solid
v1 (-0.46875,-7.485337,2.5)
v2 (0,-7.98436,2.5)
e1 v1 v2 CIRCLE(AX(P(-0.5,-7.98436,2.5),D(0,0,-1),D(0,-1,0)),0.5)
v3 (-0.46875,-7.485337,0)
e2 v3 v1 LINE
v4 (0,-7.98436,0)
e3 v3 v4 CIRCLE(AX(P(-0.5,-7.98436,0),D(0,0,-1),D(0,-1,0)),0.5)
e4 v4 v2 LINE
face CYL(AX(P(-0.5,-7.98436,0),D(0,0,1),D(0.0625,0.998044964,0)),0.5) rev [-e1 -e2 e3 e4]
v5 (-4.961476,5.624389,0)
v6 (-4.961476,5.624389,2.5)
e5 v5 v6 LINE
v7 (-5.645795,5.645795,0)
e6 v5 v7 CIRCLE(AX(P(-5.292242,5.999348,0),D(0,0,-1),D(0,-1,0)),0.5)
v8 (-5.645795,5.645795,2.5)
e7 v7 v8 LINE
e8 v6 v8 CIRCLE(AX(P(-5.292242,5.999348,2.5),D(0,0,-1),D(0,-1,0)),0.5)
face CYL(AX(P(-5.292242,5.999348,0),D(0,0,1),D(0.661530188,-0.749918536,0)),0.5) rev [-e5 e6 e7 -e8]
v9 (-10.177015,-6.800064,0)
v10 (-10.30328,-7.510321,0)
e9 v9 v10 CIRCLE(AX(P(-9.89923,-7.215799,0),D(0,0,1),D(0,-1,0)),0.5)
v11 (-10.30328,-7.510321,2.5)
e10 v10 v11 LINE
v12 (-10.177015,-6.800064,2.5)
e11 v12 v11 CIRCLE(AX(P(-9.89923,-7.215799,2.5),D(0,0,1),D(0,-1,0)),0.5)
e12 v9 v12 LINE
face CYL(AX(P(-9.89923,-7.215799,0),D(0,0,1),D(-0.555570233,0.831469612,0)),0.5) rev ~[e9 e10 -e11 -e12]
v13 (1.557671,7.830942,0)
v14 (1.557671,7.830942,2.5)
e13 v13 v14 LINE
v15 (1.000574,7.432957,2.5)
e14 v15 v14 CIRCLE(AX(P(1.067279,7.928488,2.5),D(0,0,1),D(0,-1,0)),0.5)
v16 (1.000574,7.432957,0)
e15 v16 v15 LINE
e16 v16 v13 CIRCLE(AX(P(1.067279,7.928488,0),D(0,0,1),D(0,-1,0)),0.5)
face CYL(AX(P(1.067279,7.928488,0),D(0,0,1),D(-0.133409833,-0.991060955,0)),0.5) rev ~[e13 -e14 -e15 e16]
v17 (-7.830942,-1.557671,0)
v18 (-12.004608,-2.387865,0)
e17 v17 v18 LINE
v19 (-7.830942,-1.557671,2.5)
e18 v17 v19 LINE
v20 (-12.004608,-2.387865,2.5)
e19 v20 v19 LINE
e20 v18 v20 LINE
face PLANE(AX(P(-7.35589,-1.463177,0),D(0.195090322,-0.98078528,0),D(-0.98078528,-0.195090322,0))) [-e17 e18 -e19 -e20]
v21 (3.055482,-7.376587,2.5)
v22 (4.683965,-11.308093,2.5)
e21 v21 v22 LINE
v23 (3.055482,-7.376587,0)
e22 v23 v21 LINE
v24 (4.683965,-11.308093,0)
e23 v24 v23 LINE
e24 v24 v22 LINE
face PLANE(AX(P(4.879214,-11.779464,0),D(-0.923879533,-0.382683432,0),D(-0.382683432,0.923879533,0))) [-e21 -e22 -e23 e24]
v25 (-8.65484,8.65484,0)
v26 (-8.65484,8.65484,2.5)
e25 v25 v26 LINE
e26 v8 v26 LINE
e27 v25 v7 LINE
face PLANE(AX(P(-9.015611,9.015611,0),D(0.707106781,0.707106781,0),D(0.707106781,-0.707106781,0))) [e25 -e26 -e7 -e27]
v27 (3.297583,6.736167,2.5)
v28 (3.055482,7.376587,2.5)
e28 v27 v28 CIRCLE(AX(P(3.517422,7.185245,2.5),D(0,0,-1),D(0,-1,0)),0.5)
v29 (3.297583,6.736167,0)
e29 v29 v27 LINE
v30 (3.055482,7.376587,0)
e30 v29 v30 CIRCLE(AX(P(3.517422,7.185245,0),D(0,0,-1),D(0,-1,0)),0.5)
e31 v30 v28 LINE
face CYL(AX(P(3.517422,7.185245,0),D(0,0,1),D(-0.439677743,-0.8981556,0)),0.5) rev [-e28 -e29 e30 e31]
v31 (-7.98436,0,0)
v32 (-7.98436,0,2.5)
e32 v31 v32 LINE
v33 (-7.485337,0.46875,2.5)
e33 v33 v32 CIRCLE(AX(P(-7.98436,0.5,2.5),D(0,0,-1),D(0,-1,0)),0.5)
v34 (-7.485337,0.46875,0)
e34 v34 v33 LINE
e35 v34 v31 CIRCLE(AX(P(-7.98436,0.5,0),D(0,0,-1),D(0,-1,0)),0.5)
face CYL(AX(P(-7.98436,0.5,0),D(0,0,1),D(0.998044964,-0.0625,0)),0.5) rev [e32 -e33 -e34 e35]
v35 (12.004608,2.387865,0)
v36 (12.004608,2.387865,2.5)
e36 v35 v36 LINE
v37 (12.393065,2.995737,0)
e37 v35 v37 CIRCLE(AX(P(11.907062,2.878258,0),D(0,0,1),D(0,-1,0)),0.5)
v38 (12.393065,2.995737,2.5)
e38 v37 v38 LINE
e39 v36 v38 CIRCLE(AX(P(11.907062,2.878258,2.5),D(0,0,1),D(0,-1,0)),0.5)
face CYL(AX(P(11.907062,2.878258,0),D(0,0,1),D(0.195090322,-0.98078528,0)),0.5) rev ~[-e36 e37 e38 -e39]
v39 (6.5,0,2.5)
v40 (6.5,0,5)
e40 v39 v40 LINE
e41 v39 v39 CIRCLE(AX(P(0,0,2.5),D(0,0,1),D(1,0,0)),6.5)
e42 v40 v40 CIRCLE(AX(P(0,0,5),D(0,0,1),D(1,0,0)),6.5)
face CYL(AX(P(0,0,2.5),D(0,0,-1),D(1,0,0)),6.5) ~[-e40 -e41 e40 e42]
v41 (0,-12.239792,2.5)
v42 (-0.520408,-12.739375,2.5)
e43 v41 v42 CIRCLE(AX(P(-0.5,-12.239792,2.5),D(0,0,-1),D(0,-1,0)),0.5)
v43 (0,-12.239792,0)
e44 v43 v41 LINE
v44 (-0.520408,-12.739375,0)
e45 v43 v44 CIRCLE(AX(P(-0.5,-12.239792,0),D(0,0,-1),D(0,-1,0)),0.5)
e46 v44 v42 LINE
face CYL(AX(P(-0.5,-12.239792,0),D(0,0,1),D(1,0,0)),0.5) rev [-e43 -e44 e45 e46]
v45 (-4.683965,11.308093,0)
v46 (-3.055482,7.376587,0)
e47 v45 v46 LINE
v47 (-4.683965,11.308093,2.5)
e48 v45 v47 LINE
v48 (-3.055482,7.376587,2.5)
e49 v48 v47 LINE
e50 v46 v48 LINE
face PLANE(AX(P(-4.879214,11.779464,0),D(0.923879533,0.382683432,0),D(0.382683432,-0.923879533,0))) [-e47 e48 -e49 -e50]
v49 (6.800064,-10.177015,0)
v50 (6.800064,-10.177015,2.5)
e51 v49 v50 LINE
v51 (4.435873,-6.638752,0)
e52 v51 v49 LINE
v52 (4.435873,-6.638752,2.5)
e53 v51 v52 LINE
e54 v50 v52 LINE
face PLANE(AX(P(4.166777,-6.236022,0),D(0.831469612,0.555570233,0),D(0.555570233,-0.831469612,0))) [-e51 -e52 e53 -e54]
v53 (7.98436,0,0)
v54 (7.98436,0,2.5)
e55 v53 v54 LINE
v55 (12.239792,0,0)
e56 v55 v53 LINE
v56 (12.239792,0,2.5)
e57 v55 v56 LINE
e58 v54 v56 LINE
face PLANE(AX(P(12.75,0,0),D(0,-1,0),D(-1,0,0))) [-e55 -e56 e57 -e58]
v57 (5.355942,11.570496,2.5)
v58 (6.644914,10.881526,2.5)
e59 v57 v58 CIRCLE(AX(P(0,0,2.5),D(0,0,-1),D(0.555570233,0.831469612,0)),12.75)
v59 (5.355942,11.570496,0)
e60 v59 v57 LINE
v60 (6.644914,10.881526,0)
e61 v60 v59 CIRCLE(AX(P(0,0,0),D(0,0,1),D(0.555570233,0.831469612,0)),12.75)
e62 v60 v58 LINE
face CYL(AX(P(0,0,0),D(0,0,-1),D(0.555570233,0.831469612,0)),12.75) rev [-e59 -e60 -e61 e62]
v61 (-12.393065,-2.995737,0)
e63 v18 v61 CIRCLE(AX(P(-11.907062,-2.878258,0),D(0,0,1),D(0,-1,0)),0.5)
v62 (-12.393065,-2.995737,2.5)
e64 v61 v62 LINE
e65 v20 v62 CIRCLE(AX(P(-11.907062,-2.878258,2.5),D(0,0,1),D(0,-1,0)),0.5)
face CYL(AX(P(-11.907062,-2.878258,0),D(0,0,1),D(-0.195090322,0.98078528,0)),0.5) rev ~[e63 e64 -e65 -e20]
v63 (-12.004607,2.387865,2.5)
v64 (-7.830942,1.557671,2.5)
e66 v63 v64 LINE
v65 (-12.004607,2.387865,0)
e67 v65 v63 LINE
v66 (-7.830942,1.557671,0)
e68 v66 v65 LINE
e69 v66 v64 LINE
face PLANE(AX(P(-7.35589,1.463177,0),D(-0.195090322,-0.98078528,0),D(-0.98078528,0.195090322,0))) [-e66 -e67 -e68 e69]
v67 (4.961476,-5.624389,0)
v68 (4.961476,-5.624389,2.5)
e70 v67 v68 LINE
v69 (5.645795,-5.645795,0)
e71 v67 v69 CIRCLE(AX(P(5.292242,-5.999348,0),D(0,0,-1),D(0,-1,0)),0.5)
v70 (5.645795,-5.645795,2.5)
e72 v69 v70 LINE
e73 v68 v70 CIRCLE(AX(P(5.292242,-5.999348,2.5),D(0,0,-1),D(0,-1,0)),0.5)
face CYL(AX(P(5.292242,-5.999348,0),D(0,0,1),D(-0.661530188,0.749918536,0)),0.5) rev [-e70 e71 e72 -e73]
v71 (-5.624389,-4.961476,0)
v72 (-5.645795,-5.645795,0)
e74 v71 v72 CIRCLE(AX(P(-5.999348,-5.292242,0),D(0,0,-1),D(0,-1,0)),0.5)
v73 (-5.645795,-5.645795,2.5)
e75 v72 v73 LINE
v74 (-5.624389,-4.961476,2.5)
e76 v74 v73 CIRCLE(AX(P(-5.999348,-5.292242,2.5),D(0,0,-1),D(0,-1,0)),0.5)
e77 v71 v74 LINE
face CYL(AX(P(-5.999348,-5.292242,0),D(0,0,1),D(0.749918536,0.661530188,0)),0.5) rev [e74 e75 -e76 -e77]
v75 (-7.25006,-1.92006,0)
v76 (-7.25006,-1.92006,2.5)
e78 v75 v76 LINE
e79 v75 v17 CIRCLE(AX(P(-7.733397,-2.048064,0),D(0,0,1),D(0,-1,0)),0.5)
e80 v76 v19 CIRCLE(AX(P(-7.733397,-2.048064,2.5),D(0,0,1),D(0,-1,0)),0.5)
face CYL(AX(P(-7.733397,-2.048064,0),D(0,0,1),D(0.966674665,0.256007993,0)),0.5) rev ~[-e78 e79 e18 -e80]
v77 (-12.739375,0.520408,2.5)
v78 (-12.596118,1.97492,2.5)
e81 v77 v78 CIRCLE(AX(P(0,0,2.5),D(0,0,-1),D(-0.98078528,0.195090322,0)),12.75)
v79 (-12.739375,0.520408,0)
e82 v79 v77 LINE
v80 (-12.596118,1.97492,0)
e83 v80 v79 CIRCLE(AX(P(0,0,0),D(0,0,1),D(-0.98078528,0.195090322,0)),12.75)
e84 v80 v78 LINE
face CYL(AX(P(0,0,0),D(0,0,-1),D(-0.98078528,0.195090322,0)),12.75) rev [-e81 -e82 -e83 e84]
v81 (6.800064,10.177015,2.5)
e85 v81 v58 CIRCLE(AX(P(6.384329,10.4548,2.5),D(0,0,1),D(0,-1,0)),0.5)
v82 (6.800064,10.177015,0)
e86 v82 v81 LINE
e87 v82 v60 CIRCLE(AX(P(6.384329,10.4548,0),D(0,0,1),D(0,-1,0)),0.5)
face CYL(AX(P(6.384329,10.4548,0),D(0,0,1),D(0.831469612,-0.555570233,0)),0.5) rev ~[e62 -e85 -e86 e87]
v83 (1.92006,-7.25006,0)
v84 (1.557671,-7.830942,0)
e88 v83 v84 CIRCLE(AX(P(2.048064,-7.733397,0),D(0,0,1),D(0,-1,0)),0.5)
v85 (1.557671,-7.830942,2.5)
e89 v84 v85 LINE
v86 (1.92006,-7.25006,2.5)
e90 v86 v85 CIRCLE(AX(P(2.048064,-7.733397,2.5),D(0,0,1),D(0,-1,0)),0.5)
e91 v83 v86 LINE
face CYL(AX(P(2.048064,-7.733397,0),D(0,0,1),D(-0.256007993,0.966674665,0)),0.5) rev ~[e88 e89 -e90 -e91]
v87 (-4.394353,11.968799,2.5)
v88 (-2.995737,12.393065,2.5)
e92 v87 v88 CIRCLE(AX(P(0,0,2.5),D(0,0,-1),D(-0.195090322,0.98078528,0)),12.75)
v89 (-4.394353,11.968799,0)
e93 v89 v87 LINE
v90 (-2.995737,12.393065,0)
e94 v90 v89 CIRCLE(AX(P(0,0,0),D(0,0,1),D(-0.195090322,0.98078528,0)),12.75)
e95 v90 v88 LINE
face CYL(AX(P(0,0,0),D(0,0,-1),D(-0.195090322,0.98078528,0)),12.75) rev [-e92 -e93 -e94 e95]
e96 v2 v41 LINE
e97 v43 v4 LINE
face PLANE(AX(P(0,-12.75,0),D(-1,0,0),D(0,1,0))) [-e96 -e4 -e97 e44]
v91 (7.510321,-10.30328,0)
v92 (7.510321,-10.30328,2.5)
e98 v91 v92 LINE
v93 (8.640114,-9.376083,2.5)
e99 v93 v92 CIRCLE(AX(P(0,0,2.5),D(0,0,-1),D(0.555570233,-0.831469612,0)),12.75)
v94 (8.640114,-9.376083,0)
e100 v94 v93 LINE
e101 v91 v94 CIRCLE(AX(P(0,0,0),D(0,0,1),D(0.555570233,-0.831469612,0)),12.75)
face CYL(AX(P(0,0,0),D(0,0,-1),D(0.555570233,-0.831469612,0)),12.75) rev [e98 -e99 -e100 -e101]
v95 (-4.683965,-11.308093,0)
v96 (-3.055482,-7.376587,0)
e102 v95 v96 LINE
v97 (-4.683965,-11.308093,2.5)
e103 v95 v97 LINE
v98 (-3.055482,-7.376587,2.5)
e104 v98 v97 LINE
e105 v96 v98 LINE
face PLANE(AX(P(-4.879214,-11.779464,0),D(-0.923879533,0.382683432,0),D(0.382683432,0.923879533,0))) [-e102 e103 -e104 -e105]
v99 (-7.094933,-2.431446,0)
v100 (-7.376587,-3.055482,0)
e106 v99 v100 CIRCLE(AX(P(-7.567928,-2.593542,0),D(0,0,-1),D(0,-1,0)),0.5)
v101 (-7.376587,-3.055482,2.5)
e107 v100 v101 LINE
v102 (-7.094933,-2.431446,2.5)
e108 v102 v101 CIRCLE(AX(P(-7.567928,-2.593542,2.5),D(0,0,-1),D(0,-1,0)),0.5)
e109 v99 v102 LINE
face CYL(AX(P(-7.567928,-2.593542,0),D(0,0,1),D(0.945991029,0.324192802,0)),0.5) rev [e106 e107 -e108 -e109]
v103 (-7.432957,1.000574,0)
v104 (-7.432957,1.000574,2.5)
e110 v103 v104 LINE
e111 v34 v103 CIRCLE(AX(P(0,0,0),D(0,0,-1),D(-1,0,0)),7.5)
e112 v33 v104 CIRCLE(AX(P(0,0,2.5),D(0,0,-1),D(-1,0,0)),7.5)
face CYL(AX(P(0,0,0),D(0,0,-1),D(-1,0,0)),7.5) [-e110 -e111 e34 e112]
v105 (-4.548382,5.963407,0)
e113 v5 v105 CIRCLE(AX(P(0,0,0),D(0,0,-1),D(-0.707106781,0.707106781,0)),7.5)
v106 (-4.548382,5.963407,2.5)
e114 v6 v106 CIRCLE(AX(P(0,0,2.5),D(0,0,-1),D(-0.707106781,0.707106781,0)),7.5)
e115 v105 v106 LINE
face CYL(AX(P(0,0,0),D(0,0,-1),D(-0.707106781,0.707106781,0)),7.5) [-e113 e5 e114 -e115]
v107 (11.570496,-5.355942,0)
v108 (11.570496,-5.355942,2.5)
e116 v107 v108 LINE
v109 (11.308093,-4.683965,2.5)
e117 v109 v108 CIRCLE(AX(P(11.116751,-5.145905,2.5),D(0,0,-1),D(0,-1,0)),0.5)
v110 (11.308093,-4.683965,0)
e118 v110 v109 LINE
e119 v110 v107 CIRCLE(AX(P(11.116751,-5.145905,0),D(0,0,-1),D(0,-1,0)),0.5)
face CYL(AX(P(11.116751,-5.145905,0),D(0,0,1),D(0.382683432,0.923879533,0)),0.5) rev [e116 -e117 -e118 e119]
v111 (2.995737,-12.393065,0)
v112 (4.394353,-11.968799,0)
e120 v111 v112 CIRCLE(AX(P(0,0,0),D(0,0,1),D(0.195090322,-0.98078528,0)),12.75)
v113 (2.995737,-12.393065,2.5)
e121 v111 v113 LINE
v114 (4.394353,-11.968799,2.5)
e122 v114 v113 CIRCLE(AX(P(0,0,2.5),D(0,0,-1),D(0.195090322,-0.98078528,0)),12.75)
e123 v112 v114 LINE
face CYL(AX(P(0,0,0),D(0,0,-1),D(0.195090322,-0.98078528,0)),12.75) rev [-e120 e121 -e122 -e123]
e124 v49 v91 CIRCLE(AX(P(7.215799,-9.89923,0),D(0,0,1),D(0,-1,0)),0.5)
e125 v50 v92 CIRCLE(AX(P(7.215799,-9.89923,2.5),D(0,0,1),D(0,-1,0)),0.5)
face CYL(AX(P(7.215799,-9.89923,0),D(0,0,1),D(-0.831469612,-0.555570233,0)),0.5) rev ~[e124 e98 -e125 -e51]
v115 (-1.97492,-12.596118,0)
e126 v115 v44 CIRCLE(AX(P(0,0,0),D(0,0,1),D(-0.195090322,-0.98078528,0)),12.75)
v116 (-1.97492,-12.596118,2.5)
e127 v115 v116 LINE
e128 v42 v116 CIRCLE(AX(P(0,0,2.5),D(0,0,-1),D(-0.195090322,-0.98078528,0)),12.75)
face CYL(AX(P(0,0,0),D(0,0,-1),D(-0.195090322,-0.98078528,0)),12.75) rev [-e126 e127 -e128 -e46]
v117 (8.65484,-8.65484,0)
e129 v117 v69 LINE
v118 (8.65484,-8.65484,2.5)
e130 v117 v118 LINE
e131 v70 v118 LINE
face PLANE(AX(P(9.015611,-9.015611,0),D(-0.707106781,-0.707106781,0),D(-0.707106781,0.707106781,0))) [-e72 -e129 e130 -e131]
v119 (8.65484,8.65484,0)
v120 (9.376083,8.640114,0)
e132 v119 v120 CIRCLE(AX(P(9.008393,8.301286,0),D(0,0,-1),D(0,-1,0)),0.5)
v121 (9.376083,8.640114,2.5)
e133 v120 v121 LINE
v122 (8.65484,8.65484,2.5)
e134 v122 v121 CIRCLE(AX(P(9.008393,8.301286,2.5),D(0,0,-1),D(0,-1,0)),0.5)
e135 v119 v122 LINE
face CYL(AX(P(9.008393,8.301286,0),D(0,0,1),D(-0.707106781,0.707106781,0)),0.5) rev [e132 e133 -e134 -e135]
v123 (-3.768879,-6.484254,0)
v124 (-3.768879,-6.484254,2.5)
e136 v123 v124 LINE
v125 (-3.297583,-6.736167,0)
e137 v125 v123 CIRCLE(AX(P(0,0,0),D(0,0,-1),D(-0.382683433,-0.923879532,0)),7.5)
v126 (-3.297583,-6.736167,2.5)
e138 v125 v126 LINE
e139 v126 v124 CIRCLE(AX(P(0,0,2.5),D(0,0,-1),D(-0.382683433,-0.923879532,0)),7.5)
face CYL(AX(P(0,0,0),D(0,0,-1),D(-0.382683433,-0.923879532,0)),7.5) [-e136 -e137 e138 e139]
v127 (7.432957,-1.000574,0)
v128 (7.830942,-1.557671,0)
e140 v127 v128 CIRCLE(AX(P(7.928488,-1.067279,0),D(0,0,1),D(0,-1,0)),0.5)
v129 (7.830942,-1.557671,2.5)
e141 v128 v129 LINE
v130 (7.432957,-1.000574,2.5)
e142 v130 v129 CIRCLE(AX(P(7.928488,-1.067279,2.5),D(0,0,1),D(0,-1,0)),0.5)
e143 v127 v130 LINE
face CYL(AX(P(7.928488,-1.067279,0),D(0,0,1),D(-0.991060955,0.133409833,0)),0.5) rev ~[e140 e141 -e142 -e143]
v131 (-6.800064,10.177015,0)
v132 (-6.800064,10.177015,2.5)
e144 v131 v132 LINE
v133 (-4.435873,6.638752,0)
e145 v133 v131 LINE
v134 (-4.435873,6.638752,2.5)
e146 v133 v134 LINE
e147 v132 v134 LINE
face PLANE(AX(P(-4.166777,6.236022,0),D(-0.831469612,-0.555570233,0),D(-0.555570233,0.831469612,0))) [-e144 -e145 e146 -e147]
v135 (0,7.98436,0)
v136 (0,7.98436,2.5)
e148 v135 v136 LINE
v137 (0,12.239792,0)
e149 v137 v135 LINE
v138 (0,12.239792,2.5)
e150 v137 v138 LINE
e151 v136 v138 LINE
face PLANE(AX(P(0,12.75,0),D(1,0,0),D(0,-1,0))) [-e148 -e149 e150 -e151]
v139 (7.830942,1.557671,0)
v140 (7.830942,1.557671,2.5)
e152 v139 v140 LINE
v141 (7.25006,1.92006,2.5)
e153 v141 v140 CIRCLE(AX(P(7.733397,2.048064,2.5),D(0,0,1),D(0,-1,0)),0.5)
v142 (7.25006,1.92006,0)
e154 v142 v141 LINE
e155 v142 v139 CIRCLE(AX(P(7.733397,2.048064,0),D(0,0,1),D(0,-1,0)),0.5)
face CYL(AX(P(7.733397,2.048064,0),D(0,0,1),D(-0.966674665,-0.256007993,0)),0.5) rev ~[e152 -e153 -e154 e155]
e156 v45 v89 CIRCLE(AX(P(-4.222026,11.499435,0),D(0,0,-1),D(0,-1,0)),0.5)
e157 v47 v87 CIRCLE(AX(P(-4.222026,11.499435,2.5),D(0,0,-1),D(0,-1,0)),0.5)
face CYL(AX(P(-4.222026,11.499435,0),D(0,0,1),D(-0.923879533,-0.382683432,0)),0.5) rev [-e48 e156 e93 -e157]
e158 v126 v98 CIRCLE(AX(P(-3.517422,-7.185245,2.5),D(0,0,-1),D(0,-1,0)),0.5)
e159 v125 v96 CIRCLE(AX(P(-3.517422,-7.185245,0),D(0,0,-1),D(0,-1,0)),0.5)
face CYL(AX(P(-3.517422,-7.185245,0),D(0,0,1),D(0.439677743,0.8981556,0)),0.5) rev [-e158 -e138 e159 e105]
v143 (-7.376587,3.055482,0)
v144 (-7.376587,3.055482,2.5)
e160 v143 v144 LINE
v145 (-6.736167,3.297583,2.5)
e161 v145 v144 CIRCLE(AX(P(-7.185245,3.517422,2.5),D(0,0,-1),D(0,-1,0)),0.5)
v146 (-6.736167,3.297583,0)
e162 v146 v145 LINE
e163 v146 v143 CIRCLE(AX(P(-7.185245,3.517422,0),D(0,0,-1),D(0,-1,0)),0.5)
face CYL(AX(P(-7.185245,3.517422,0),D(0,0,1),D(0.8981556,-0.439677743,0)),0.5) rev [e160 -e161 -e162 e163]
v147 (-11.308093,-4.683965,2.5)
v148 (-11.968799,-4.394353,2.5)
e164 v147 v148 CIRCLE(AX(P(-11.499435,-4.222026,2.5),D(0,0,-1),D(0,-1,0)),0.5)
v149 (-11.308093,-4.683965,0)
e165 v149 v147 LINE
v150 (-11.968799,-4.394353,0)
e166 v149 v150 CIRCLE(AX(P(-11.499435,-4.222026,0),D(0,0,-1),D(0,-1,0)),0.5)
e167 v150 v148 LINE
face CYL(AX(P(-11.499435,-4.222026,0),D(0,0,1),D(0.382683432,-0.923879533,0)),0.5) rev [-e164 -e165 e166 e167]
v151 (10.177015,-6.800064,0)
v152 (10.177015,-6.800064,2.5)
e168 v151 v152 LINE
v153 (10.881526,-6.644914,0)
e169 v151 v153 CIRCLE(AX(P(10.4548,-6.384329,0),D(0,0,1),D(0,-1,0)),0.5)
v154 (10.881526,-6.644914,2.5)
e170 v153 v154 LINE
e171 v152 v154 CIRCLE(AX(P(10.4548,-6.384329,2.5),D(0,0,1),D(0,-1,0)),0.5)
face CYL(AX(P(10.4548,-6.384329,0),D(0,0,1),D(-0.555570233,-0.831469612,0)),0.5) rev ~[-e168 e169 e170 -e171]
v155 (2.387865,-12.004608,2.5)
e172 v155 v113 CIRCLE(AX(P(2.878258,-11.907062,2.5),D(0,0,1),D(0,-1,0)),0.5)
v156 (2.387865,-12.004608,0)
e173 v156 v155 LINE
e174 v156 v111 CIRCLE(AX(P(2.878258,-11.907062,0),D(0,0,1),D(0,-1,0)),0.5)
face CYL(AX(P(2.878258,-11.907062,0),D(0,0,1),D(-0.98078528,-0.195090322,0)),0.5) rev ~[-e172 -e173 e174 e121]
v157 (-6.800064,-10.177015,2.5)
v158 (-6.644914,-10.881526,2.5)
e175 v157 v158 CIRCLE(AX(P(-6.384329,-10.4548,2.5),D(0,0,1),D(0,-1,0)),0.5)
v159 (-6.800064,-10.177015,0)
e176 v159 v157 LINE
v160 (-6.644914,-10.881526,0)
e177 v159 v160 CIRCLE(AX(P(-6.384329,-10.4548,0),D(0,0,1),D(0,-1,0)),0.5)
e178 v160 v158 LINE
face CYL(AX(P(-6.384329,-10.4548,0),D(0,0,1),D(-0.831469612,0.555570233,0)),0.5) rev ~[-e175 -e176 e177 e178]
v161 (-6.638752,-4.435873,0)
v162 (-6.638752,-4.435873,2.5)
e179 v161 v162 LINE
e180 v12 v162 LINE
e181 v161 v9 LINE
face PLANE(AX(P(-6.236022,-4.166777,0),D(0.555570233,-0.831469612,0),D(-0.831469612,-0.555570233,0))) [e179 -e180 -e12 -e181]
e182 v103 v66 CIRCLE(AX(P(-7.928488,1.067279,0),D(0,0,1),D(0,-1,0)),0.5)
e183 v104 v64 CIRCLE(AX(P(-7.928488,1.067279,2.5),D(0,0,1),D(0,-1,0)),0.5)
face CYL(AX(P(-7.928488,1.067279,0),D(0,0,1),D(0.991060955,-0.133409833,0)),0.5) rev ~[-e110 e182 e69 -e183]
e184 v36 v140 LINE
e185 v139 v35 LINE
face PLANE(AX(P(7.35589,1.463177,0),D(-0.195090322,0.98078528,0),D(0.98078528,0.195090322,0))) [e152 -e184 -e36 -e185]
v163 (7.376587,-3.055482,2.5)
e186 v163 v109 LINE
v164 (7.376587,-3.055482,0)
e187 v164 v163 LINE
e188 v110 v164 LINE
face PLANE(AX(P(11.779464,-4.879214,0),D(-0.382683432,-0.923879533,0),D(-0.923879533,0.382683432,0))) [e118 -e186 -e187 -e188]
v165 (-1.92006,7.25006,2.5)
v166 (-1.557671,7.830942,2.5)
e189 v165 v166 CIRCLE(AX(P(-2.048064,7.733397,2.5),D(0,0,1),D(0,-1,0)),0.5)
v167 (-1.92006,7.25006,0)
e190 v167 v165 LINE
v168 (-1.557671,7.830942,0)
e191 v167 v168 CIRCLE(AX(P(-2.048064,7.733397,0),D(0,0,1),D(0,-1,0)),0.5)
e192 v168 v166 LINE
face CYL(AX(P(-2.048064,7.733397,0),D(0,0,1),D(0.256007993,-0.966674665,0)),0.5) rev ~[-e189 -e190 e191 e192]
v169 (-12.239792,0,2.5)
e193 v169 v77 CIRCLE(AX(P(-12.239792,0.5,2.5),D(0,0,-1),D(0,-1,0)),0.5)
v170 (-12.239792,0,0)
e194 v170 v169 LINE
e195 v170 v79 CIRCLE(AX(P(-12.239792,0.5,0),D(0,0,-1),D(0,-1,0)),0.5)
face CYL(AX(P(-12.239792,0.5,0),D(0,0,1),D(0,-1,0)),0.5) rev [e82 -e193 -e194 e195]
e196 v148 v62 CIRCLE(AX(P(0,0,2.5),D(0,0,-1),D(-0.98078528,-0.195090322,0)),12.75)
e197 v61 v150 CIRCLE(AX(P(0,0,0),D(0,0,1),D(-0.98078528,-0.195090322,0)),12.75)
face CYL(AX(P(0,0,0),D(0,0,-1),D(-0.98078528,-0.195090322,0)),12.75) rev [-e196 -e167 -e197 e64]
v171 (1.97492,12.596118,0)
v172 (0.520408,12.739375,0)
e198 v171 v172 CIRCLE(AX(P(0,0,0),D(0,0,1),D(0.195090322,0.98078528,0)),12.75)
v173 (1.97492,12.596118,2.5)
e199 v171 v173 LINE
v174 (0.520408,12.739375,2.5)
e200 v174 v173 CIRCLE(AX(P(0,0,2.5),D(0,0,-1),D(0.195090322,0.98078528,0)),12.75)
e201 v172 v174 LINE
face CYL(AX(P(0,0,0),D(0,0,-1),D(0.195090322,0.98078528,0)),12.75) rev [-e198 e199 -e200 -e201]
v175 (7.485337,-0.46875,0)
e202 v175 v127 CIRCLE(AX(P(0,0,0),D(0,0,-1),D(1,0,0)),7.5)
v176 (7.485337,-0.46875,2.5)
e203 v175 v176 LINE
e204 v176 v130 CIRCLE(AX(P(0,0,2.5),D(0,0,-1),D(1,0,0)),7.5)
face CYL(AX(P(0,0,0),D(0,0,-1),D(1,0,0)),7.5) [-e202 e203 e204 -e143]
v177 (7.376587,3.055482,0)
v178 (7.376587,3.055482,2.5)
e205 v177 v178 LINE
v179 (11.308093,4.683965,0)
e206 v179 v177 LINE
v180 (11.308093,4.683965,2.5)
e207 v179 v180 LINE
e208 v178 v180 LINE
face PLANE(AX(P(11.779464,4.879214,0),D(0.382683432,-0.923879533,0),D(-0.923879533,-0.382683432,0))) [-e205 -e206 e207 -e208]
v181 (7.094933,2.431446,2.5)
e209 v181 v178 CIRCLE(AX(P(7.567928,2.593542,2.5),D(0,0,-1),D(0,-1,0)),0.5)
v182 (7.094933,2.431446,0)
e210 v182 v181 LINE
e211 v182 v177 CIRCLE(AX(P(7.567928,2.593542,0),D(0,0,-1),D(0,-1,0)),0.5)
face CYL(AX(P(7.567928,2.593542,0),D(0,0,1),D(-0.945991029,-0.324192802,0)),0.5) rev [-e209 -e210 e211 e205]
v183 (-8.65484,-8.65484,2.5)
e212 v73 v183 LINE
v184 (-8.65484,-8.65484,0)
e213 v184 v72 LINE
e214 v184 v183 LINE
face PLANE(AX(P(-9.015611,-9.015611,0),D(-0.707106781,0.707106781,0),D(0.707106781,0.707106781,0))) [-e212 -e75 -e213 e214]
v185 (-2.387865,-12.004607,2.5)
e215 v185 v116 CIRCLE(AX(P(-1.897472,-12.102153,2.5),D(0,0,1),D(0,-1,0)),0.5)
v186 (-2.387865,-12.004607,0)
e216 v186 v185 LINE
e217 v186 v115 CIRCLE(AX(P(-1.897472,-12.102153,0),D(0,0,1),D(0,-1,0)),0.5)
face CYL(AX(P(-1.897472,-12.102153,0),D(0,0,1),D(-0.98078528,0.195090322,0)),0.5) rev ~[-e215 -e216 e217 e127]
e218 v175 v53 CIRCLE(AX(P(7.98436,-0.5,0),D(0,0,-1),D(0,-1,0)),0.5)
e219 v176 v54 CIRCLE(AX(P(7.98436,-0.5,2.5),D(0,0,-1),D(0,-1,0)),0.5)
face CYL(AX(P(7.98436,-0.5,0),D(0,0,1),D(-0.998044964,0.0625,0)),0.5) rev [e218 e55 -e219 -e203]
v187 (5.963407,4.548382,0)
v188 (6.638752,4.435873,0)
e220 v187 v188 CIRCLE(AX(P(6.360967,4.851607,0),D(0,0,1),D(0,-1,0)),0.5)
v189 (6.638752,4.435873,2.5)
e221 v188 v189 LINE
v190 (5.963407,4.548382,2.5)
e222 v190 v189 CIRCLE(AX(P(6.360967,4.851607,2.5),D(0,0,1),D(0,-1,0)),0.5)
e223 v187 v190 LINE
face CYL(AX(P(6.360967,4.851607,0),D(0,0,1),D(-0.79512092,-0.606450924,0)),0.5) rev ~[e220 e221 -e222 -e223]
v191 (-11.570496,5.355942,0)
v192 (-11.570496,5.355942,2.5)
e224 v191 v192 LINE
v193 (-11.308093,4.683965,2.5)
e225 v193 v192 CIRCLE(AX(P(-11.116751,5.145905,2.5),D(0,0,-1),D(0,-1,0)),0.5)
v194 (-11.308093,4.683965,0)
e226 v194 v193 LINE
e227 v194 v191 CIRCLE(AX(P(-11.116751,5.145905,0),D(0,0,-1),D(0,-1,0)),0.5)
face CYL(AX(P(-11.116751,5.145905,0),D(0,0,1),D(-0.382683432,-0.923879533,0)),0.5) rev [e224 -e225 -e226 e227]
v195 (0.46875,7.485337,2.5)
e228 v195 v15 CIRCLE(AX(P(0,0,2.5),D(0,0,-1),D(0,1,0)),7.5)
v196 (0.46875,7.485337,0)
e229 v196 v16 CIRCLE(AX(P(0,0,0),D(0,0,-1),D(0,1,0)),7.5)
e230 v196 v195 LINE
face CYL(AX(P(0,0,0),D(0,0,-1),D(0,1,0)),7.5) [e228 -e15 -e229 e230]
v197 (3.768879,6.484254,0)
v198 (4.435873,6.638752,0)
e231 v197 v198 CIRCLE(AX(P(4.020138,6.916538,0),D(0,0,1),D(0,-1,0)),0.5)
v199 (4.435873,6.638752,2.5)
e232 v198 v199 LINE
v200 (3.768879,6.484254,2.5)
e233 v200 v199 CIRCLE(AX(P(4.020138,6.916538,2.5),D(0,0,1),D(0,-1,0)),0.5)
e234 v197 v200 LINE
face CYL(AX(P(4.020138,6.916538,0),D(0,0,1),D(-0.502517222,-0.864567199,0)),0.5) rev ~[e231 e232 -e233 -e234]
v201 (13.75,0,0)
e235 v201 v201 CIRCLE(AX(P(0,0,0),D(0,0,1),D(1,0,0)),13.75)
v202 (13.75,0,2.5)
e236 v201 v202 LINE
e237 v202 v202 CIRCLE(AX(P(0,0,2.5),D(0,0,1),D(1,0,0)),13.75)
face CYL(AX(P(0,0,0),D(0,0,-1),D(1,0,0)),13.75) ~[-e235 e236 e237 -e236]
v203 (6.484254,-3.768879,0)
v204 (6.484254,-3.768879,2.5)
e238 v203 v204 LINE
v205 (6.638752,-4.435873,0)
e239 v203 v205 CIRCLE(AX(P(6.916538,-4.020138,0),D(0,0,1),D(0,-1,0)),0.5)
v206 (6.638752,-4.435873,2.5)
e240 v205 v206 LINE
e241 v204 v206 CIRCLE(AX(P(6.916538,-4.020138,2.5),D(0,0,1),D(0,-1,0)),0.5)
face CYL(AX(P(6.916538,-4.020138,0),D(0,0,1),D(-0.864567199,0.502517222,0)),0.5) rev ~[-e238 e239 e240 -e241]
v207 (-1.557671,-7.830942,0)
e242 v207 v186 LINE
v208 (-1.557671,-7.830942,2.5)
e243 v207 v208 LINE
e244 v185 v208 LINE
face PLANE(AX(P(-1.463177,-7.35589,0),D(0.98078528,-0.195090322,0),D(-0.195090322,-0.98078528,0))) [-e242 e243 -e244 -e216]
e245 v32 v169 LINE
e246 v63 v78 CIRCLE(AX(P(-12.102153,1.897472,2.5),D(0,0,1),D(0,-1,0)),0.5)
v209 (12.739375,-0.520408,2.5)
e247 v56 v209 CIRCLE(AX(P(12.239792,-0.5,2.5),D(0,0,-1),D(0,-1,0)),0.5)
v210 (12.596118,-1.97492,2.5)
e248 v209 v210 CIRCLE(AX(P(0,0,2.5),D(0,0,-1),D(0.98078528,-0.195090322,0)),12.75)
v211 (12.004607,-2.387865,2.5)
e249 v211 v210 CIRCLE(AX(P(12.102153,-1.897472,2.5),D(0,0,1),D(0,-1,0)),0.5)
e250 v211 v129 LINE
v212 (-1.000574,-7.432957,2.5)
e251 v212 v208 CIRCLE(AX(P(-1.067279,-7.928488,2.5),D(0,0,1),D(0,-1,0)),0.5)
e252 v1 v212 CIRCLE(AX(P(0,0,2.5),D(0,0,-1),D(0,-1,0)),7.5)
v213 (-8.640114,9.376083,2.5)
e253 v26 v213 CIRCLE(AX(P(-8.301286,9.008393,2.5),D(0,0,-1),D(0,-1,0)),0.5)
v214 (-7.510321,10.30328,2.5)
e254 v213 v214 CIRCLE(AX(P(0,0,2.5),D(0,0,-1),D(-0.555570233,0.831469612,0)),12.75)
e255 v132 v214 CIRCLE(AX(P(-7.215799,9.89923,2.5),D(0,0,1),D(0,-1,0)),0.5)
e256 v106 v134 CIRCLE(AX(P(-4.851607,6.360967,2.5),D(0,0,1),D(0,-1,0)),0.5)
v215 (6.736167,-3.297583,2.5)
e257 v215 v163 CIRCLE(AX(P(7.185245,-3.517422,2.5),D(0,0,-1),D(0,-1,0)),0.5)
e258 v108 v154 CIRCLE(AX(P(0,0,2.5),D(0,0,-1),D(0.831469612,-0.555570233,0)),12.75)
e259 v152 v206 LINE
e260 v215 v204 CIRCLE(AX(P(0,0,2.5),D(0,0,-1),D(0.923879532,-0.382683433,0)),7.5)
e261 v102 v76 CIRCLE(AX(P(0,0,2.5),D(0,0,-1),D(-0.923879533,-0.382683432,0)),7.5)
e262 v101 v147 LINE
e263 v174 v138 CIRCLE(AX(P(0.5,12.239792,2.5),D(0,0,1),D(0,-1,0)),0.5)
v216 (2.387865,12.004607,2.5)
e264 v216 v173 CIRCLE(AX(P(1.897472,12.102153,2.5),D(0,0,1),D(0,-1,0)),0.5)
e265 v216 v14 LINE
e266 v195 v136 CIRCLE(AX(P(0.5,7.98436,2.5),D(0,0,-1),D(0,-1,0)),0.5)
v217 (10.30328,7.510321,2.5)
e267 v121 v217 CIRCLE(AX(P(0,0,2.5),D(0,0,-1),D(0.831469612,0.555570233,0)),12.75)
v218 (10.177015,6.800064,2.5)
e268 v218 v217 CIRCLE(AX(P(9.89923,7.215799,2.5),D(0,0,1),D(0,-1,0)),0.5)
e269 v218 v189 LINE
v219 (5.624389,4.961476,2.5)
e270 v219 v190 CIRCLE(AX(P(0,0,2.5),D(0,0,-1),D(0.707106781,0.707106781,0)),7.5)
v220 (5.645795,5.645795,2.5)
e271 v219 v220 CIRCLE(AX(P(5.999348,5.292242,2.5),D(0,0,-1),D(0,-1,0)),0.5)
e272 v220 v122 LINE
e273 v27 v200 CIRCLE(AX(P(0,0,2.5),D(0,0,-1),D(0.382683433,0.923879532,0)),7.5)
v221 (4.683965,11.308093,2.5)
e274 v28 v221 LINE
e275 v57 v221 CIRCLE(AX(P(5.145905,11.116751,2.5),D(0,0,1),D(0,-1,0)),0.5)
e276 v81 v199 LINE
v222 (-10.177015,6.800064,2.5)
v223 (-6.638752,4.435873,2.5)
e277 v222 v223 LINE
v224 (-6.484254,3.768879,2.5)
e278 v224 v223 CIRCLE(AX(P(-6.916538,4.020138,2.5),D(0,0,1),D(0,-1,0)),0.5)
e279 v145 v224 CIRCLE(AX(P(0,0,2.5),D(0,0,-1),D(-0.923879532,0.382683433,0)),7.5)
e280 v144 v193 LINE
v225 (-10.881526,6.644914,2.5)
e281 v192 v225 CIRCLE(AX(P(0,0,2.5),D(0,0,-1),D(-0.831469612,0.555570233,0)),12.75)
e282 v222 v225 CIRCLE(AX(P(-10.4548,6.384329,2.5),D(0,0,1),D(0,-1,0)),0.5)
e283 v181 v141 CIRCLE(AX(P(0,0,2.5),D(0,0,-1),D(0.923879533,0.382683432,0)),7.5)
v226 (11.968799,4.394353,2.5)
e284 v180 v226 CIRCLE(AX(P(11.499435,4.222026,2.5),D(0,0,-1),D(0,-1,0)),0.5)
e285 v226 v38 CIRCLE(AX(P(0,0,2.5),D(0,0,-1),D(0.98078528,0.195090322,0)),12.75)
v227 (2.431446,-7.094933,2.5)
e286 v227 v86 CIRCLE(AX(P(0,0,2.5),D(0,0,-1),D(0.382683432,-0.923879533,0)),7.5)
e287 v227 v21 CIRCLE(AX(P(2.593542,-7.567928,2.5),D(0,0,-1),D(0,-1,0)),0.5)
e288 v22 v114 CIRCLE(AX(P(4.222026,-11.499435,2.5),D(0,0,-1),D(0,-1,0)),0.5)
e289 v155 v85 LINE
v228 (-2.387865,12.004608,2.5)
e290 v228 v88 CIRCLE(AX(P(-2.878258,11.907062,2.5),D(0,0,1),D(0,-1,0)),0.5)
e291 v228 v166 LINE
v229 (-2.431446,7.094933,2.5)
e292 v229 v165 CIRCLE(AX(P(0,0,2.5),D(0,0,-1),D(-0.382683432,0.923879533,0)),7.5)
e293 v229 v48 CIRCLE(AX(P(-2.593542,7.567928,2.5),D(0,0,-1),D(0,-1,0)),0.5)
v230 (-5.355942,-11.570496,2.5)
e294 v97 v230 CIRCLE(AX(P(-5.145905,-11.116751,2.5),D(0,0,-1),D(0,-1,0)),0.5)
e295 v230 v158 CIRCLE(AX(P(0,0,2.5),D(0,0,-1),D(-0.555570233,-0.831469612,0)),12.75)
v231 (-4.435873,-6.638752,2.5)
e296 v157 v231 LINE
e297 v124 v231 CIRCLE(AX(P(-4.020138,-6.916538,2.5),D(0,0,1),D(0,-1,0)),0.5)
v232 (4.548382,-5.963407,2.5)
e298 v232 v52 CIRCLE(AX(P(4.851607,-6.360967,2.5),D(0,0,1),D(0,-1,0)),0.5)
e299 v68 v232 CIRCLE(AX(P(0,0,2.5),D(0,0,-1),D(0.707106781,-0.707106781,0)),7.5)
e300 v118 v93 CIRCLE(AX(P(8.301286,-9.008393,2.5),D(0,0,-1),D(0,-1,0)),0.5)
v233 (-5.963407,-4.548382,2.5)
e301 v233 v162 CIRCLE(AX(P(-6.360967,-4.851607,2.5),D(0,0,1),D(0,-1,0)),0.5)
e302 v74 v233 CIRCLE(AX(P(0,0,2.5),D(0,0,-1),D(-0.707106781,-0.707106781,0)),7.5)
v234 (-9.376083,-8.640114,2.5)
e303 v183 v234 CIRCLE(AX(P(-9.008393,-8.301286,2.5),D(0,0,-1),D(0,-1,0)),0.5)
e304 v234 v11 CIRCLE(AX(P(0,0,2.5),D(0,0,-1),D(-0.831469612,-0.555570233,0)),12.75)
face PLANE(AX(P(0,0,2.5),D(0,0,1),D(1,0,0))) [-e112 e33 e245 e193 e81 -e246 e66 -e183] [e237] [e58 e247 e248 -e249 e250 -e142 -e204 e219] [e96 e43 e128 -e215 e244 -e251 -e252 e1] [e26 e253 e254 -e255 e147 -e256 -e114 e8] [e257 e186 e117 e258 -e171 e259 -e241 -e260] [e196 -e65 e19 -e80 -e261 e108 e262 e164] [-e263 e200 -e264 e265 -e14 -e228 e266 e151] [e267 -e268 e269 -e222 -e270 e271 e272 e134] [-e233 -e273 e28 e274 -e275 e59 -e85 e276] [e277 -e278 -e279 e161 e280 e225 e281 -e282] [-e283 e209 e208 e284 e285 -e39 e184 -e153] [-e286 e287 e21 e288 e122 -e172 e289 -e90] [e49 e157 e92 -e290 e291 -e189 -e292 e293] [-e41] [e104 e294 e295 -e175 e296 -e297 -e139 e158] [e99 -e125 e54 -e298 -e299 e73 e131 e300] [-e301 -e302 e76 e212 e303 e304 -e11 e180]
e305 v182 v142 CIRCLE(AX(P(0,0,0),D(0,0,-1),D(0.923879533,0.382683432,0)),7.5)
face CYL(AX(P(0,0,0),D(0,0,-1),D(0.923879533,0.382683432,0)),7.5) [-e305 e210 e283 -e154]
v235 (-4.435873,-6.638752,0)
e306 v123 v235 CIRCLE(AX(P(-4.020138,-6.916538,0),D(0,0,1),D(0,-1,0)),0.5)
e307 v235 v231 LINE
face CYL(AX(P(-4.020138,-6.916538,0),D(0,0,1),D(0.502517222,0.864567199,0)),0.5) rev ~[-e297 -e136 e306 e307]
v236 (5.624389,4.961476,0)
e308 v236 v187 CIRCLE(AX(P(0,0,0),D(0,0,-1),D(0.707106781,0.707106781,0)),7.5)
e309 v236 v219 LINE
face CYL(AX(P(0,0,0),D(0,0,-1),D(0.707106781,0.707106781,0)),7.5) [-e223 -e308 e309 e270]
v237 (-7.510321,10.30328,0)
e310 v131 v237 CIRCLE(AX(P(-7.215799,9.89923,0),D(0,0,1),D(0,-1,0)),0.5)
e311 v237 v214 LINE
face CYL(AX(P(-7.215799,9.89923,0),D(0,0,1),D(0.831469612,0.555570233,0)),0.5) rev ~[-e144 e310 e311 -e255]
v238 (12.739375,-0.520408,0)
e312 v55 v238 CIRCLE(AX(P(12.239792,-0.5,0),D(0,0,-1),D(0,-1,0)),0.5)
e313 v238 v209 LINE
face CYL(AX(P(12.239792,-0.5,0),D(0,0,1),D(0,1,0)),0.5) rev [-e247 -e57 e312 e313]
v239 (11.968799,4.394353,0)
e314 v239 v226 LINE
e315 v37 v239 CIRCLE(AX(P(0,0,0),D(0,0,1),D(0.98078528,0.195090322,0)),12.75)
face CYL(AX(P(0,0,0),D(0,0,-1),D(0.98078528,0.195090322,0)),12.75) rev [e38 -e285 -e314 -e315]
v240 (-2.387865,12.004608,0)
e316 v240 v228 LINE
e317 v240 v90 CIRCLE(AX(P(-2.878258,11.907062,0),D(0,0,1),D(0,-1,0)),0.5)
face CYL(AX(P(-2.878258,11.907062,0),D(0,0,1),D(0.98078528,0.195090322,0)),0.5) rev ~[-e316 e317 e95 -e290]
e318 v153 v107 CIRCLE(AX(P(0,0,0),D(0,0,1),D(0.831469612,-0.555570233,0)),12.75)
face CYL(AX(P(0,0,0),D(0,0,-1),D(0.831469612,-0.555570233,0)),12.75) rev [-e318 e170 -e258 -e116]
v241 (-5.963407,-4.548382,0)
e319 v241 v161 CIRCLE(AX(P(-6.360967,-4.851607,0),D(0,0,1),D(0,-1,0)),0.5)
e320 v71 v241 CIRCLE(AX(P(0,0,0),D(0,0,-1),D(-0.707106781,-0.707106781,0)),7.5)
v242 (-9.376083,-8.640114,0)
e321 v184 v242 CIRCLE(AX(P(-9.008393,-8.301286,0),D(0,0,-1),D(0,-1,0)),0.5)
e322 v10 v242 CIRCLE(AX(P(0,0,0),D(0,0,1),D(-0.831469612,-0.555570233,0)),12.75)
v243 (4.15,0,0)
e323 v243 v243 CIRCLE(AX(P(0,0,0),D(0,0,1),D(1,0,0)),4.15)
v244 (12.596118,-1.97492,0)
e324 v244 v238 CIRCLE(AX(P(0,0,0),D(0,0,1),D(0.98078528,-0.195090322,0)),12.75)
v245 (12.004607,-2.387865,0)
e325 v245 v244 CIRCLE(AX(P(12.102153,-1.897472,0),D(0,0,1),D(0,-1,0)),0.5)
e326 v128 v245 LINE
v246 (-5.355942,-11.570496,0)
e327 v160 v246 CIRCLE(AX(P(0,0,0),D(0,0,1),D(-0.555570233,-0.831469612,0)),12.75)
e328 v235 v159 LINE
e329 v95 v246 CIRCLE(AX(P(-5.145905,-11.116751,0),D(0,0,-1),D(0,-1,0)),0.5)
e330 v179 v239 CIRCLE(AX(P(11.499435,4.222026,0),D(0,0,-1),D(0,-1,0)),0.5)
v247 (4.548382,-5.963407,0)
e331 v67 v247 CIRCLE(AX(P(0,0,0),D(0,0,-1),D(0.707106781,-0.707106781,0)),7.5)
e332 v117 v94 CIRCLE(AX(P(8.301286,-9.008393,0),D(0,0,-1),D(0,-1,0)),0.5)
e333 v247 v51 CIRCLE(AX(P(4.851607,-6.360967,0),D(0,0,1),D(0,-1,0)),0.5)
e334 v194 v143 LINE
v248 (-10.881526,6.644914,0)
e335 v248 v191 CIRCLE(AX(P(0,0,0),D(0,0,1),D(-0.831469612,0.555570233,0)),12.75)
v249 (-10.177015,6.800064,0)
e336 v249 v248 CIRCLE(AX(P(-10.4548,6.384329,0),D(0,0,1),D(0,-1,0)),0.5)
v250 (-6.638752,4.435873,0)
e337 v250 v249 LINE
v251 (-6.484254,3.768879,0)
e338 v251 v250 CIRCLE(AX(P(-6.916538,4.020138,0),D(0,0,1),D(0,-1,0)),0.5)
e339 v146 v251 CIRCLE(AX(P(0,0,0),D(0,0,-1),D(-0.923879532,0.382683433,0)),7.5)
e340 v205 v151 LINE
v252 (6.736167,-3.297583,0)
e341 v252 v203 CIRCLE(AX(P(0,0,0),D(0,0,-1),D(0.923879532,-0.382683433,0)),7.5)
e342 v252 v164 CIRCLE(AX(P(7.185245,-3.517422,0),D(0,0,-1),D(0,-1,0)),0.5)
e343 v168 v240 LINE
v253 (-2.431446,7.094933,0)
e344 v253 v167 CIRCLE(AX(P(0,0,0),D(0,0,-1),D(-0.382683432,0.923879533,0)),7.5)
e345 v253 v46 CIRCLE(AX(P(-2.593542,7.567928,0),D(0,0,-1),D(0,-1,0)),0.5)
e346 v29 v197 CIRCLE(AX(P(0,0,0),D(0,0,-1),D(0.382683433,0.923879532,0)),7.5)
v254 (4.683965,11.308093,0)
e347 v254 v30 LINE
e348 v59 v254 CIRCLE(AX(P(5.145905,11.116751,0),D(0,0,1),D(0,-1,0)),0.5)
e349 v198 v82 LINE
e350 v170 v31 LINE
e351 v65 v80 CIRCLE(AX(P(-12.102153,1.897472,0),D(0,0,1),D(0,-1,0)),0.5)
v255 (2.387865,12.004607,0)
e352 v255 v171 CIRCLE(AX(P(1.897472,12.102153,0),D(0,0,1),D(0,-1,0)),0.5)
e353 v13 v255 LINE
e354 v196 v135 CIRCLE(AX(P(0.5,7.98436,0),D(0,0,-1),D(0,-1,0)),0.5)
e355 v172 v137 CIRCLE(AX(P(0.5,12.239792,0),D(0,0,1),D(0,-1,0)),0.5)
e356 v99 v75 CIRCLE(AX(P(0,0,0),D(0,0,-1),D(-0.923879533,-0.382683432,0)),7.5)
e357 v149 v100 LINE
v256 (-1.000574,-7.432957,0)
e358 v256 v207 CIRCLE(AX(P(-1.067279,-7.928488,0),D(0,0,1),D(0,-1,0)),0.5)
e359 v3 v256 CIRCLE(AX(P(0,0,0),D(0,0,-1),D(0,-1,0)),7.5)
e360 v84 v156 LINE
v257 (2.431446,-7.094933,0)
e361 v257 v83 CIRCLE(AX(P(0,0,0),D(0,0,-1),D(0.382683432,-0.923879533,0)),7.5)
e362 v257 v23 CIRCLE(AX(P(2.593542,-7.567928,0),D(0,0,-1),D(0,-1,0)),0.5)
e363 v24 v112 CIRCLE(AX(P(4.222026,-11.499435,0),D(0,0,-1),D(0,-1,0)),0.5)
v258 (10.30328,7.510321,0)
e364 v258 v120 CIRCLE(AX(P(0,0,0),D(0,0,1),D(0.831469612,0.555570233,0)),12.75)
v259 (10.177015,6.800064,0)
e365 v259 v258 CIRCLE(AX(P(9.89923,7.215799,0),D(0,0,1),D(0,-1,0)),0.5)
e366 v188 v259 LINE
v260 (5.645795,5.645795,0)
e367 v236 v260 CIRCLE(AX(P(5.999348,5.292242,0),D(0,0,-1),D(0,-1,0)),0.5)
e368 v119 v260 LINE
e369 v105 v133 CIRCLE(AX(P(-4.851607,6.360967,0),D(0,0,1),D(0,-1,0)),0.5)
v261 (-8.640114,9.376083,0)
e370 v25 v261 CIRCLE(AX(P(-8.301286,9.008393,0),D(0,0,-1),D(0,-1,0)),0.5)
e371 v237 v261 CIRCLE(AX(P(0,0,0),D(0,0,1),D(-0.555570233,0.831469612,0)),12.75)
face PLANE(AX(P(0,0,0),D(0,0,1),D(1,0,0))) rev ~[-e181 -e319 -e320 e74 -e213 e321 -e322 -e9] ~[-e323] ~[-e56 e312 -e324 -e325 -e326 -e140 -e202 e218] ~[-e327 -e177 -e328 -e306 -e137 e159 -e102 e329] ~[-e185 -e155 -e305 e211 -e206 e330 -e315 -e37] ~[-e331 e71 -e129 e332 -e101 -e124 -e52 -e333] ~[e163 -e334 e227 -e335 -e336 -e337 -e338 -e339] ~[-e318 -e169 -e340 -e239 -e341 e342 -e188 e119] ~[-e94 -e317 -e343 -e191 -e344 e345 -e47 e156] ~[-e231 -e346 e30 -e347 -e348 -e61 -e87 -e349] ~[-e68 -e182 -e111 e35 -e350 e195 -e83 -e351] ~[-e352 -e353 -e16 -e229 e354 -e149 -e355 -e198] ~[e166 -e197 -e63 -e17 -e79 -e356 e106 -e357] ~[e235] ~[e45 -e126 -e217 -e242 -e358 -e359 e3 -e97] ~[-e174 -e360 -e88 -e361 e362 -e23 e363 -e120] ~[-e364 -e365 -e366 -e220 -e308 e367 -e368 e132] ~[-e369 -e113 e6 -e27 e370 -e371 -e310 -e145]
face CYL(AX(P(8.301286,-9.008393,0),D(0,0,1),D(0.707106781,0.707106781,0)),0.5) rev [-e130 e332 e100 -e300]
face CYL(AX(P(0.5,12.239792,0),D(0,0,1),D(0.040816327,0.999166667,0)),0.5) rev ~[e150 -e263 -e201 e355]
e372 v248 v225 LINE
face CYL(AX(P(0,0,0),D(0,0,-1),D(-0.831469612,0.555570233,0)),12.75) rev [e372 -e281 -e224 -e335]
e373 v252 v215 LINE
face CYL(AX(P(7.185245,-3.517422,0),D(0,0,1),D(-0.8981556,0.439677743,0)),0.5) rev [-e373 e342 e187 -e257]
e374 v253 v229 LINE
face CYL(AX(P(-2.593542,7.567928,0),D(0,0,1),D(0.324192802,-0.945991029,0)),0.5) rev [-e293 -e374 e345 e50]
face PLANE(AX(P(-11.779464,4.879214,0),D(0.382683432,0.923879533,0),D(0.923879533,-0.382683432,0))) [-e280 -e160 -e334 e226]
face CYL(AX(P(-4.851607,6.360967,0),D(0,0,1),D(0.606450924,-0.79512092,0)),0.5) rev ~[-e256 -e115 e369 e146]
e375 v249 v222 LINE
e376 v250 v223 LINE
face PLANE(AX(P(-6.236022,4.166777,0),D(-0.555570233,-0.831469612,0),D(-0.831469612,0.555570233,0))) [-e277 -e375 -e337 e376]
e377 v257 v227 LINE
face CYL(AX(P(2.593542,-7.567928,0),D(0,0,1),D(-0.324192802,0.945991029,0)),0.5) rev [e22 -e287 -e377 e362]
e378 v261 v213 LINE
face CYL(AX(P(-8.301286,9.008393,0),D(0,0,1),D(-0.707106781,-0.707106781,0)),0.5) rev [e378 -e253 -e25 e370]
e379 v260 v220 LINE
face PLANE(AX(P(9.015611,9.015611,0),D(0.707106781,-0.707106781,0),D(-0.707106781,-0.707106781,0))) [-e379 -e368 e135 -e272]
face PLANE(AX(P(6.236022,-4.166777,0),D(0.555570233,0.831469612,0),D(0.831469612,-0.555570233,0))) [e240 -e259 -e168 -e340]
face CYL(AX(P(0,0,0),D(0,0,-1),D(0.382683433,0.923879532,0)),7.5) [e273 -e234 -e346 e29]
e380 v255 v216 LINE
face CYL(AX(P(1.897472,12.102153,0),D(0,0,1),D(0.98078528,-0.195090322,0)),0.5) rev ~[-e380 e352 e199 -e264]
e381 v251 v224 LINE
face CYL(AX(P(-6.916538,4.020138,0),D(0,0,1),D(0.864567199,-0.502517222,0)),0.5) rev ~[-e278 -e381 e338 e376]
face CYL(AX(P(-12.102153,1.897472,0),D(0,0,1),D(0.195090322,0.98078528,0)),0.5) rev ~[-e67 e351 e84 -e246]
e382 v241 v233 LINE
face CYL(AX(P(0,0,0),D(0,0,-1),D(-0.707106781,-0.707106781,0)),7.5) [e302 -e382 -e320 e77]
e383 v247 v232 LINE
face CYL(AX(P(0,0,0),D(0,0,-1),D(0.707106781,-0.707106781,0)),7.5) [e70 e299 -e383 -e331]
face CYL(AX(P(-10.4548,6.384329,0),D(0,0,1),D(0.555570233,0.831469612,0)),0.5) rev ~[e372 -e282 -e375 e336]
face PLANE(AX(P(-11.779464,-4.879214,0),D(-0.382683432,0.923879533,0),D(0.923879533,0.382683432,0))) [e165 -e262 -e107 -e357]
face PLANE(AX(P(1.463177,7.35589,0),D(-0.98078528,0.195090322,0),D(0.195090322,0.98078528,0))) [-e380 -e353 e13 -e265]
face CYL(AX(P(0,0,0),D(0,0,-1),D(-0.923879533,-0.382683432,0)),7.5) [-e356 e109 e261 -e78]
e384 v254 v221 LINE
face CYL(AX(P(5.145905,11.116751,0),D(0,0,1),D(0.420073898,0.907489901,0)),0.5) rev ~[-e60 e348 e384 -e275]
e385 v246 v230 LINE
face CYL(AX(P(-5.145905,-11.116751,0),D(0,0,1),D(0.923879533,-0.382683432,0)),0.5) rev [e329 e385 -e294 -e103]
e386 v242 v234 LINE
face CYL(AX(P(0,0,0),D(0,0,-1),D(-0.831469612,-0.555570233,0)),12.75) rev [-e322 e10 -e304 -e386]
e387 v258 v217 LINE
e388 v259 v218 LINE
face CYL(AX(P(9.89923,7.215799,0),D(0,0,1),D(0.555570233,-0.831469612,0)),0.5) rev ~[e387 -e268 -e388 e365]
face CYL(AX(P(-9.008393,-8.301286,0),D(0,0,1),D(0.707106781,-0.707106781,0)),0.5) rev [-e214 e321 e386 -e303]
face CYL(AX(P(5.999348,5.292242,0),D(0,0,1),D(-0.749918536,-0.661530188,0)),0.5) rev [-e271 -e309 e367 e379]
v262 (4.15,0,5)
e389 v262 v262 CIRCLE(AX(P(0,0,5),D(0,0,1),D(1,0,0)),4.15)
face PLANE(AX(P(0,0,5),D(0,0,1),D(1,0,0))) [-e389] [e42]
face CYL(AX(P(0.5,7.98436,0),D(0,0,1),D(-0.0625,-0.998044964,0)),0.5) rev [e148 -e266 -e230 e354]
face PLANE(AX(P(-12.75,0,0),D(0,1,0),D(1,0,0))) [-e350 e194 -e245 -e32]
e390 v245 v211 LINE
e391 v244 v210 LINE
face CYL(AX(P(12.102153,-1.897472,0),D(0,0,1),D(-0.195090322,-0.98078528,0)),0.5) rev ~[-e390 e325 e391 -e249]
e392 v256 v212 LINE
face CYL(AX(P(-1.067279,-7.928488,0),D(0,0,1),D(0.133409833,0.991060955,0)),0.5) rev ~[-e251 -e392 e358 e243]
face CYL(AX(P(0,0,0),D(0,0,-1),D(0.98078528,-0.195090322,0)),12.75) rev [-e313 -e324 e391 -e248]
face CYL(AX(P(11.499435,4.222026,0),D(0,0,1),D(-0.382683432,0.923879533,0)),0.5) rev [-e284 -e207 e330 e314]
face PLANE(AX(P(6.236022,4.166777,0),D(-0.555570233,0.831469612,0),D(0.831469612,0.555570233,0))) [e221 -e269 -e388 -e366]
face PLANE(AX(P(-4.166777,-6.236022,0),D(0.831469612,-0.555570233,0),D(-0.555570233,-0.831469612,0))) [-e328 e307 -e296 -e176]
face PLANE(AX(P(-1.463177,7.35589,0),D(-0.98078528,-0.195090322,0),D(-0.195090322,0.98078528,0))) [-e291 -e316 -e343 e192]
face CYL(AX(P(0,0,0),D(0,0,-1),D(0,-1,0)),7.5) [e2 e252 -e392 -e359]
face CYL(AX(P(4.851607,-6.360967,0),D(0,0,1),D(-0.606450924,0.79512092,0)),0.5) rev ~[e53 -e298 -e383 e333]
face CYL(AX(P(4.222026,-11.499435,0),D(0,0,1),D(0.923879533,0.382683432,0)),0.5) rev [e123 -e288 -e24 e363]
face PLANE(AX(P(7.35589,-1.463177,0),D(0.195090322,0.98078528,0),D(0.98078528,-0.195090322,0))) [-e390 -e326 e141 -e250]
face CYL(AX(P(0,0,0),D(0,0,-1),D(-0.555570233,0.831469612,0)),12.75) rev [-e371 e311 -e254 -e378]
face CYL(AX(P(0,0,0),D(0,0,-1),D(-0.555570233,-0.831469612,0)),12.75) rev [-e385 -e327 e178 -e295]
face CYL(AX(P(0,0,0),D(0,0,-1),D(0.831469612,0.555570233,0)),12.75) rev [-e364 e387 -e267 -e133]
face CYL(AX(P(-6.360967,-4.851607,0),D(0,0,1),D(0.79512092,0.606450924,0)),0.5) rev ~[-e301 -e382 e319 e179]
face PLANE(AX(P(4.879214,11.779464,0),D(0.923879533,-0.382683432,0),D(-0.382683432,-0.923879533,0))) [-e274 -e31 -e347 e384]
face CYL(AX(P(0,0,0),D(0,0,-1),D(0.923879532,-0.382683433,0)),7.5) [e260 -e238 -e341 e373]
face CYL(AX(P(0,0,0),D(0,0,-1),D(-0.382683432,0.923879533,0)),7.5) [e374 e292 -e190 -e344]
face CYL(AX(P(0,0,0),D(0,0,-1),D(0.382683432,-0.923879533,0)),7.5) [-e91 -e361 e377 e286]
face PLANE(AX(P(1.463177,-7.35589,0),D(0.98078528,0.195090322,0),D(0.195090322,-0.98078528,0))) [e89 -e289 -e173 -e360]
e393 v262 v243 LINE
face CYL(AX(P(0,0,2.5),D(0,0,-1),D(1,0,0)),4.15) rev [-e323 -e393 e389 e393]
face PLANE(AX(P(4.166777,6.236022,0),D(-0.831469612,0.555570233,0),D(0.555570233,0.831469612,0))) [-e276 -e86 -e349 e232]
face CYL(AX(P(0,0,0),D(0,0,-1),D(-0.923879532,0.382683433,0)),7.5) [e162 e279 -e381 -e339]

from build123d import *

# Parameters (mm, degrees)
SKETCH1_R                = 13.75
SKETCH1_R_2              = 4.15
BOSS_EXTRUDE1_DEPTH      = 2.5
SKETCH2_R                = 6.5
SKETCH2_R_2              = 4.15
BOSS_EXTRUDE2_DEPTH      = 2.5
CUT_EXTRUDE1_DEPTH       = 21.077973005
FILLET1_R                = 0.5
CIRPATTERN1_COUNT        = 16
FILLET1_OF_CIRPATTERN1_R = 0.5


with BuildPart() as part:
    # Sketch1 → Boss-Extrude1 (new body)
    with BuildSketch(Plane.XY):
        Circle(SKETCH1_R)
        Circle(SKETCH1_R_2, mode=Mode.SUBTRACT)
    extrude(amount=BOSS_EXTRUDE1_DEPTH)

    # Sketch2 → Boss-Extrude2 (add)
    with BuildSketch(Plane.XY.offset(2.5)):
        Circle(SKETCH2_R)
        Circle(SKETCH2_R_2, mode=Mode.SUBTRACT)
    extrude(amount=BOSS_EXTRUDE2_DEPTH)

    # Sketch5 → Cut-Extrude1 (cut, through all)
    with BuildSketch(Plane.XY):
        with BuildLine():
            Line((0, 12.75), (0, 7.5))
            ThreePointArc((0, 7.5), (0.735128552, 7.46388545), (1.463177415, 7.355889603))
            Line((1.463177415, 7.355889603), (2.487401606, 12.505012325))
            ThreePointArc((2.487401606, 12.505012325), (1.249718539, 12.688605265), (0, 12.75))
        make_face()
    cut_extrude1 = extrude(amount=CUT_EXTRUDE1_DEPTH, mode=Mode.SUBTRACT)

    # Fillet1
    fillet1_edges = [part.edges().sort_by_distance(p)[0] for p in [
        (0, 7.5, 1.25),
        (1.463177415, 7.355889603, 1.25),
        (2.487401606, 12.505012325, 1.25),
        (0, 12.75, 1.25),
    ]]
    fillet(fillet1_edges, radius=FILLET1_R)

    # CirPattern1: Cut-Extrude1 ×16 about axis
    cirpattern1_axis = Axis((0, 0, 0), (0, 0, 1))
    for i in range(1, CIRPATTERN1_COUNT):
        add(cut_extrude1.rotate(cirpattern1_axis, i * 360 / CIRPATTERN1_COUNT), mode=Mode.SUBTRACT)

    # Fillet1 of CirPattern1
    fillet1_of_cirpattern1_edges = [part.edges().sort_by_distance(p)[0] for p in [
        (-2.870125743, 6.929096494, 1.25),
        (-1.463177415, 7.355889603, 1.25),
        (-2.487401606, 12.505012325, 1.25),
        (-4.879213763, 11.77946404, 1.25),
        (-5.303300859, 5.303300859, 1.25),
        (-4.166776748, 6.236022092, 1.25),
        (-7.083520471, 10.601237557, 1.25),
        (-9.01561146, 9.01561146, 1.25),
        (-6.929096494, 2.870125743, 1.25),
        (-6.236022092, 4.166776748, 1.25),
        (-10.601237557, 7.083520471, 1.25),
        (-11.77946404, 4.879213763, 1.25),
        (-7.5, 0, 1.25),
        (-7.355889603, 1.463177415, 1.25),
        (-12.505012325, 2.487401606, 1.25),
        (-12.75, 0, 1.25),
        (-6.929096494, -2.870125743, 1.25),
        (-7.355889603, -1.463177415, 1.25),
        (-12.505012325, -2.487401606, 1.25),
        (-11.77946404, -4.879213763, 1.25),
        (-5.303300859, -5.303300859, 1.25),
        (-6.236022092, -4.166776748, 1.25),
        (-10.601237557, -7.083520471, 1.25),
        (-9.01561146, -9.01561146, 1.25),
        (-2.870125743, -6.929096494, 1.25),
        (-4.166776748, -6.236022092, 1.25),
        (-7.083520471, -10.601237557, 1.25),
        (-4.879213763, -11.77946404, 1.25),
        (0, -7.5, 1.25),
        (-1.463177415, -7.355889603, 1.25),
        (-2.487401606, -12.505012325, 1.25),
        (0, -12.75, 1.25),
        (2.870125743, -6.929096494, 1.25),
        (1.463177415, -7.355889603, 1.25),
        (2.487401606, -12.505012325, 1.25),
        (4.879213763, -11.77946404, 1.25),
        (5.303300859, -5.303300859, 1.25),
        (4.166776748, -6.236022092, 1.25),
        (7.083520471, -10.601237557, 1.25),
        (9.01561146, -9.01561146, 1.25),
        (6.929096494, -2.870125743, 1.25),
        (6.236022092, -4.166776748, 1.25),
        (10.601237557, -7.083520471, 1.25),
        (11.77946404, -4.879213763, 1.25),
        (7.5, 0, 1.25),
        (7.355889603, -1.463177415, 1.25),
        (12.505012325, -2.487401606, 1.25),
        (12.75, 0, 1.25),
        (6.929096494, 2.870125743, 1.25),
        (7.355889603, 1.463177415, 1.25),
        (12.505012325, 2.487401606, 1.25),
        (11.77946404, 4.879213763, 1.25),
        (5.303300859, 5.303300859, 1.25),
        (6.236022092, 4.166776748, 1.25),
        (10.601237557, 7.083520471, 1.25),
        (9.01561146, 9.01561146, 1.25),
        (2.870125743, 6.929096494, 1.25),
        (4.166776748, 6.236022092, 1.25),
        (7.083520471, 10.601237557, 1.25),
        (4.879213763, 11.77946404, 1.25),
    ]]
    fillet(fillet1_of_cirpattern1_edges, radius=FILLET1_OF_CIRPATTERN1_R)


solid = part.part
